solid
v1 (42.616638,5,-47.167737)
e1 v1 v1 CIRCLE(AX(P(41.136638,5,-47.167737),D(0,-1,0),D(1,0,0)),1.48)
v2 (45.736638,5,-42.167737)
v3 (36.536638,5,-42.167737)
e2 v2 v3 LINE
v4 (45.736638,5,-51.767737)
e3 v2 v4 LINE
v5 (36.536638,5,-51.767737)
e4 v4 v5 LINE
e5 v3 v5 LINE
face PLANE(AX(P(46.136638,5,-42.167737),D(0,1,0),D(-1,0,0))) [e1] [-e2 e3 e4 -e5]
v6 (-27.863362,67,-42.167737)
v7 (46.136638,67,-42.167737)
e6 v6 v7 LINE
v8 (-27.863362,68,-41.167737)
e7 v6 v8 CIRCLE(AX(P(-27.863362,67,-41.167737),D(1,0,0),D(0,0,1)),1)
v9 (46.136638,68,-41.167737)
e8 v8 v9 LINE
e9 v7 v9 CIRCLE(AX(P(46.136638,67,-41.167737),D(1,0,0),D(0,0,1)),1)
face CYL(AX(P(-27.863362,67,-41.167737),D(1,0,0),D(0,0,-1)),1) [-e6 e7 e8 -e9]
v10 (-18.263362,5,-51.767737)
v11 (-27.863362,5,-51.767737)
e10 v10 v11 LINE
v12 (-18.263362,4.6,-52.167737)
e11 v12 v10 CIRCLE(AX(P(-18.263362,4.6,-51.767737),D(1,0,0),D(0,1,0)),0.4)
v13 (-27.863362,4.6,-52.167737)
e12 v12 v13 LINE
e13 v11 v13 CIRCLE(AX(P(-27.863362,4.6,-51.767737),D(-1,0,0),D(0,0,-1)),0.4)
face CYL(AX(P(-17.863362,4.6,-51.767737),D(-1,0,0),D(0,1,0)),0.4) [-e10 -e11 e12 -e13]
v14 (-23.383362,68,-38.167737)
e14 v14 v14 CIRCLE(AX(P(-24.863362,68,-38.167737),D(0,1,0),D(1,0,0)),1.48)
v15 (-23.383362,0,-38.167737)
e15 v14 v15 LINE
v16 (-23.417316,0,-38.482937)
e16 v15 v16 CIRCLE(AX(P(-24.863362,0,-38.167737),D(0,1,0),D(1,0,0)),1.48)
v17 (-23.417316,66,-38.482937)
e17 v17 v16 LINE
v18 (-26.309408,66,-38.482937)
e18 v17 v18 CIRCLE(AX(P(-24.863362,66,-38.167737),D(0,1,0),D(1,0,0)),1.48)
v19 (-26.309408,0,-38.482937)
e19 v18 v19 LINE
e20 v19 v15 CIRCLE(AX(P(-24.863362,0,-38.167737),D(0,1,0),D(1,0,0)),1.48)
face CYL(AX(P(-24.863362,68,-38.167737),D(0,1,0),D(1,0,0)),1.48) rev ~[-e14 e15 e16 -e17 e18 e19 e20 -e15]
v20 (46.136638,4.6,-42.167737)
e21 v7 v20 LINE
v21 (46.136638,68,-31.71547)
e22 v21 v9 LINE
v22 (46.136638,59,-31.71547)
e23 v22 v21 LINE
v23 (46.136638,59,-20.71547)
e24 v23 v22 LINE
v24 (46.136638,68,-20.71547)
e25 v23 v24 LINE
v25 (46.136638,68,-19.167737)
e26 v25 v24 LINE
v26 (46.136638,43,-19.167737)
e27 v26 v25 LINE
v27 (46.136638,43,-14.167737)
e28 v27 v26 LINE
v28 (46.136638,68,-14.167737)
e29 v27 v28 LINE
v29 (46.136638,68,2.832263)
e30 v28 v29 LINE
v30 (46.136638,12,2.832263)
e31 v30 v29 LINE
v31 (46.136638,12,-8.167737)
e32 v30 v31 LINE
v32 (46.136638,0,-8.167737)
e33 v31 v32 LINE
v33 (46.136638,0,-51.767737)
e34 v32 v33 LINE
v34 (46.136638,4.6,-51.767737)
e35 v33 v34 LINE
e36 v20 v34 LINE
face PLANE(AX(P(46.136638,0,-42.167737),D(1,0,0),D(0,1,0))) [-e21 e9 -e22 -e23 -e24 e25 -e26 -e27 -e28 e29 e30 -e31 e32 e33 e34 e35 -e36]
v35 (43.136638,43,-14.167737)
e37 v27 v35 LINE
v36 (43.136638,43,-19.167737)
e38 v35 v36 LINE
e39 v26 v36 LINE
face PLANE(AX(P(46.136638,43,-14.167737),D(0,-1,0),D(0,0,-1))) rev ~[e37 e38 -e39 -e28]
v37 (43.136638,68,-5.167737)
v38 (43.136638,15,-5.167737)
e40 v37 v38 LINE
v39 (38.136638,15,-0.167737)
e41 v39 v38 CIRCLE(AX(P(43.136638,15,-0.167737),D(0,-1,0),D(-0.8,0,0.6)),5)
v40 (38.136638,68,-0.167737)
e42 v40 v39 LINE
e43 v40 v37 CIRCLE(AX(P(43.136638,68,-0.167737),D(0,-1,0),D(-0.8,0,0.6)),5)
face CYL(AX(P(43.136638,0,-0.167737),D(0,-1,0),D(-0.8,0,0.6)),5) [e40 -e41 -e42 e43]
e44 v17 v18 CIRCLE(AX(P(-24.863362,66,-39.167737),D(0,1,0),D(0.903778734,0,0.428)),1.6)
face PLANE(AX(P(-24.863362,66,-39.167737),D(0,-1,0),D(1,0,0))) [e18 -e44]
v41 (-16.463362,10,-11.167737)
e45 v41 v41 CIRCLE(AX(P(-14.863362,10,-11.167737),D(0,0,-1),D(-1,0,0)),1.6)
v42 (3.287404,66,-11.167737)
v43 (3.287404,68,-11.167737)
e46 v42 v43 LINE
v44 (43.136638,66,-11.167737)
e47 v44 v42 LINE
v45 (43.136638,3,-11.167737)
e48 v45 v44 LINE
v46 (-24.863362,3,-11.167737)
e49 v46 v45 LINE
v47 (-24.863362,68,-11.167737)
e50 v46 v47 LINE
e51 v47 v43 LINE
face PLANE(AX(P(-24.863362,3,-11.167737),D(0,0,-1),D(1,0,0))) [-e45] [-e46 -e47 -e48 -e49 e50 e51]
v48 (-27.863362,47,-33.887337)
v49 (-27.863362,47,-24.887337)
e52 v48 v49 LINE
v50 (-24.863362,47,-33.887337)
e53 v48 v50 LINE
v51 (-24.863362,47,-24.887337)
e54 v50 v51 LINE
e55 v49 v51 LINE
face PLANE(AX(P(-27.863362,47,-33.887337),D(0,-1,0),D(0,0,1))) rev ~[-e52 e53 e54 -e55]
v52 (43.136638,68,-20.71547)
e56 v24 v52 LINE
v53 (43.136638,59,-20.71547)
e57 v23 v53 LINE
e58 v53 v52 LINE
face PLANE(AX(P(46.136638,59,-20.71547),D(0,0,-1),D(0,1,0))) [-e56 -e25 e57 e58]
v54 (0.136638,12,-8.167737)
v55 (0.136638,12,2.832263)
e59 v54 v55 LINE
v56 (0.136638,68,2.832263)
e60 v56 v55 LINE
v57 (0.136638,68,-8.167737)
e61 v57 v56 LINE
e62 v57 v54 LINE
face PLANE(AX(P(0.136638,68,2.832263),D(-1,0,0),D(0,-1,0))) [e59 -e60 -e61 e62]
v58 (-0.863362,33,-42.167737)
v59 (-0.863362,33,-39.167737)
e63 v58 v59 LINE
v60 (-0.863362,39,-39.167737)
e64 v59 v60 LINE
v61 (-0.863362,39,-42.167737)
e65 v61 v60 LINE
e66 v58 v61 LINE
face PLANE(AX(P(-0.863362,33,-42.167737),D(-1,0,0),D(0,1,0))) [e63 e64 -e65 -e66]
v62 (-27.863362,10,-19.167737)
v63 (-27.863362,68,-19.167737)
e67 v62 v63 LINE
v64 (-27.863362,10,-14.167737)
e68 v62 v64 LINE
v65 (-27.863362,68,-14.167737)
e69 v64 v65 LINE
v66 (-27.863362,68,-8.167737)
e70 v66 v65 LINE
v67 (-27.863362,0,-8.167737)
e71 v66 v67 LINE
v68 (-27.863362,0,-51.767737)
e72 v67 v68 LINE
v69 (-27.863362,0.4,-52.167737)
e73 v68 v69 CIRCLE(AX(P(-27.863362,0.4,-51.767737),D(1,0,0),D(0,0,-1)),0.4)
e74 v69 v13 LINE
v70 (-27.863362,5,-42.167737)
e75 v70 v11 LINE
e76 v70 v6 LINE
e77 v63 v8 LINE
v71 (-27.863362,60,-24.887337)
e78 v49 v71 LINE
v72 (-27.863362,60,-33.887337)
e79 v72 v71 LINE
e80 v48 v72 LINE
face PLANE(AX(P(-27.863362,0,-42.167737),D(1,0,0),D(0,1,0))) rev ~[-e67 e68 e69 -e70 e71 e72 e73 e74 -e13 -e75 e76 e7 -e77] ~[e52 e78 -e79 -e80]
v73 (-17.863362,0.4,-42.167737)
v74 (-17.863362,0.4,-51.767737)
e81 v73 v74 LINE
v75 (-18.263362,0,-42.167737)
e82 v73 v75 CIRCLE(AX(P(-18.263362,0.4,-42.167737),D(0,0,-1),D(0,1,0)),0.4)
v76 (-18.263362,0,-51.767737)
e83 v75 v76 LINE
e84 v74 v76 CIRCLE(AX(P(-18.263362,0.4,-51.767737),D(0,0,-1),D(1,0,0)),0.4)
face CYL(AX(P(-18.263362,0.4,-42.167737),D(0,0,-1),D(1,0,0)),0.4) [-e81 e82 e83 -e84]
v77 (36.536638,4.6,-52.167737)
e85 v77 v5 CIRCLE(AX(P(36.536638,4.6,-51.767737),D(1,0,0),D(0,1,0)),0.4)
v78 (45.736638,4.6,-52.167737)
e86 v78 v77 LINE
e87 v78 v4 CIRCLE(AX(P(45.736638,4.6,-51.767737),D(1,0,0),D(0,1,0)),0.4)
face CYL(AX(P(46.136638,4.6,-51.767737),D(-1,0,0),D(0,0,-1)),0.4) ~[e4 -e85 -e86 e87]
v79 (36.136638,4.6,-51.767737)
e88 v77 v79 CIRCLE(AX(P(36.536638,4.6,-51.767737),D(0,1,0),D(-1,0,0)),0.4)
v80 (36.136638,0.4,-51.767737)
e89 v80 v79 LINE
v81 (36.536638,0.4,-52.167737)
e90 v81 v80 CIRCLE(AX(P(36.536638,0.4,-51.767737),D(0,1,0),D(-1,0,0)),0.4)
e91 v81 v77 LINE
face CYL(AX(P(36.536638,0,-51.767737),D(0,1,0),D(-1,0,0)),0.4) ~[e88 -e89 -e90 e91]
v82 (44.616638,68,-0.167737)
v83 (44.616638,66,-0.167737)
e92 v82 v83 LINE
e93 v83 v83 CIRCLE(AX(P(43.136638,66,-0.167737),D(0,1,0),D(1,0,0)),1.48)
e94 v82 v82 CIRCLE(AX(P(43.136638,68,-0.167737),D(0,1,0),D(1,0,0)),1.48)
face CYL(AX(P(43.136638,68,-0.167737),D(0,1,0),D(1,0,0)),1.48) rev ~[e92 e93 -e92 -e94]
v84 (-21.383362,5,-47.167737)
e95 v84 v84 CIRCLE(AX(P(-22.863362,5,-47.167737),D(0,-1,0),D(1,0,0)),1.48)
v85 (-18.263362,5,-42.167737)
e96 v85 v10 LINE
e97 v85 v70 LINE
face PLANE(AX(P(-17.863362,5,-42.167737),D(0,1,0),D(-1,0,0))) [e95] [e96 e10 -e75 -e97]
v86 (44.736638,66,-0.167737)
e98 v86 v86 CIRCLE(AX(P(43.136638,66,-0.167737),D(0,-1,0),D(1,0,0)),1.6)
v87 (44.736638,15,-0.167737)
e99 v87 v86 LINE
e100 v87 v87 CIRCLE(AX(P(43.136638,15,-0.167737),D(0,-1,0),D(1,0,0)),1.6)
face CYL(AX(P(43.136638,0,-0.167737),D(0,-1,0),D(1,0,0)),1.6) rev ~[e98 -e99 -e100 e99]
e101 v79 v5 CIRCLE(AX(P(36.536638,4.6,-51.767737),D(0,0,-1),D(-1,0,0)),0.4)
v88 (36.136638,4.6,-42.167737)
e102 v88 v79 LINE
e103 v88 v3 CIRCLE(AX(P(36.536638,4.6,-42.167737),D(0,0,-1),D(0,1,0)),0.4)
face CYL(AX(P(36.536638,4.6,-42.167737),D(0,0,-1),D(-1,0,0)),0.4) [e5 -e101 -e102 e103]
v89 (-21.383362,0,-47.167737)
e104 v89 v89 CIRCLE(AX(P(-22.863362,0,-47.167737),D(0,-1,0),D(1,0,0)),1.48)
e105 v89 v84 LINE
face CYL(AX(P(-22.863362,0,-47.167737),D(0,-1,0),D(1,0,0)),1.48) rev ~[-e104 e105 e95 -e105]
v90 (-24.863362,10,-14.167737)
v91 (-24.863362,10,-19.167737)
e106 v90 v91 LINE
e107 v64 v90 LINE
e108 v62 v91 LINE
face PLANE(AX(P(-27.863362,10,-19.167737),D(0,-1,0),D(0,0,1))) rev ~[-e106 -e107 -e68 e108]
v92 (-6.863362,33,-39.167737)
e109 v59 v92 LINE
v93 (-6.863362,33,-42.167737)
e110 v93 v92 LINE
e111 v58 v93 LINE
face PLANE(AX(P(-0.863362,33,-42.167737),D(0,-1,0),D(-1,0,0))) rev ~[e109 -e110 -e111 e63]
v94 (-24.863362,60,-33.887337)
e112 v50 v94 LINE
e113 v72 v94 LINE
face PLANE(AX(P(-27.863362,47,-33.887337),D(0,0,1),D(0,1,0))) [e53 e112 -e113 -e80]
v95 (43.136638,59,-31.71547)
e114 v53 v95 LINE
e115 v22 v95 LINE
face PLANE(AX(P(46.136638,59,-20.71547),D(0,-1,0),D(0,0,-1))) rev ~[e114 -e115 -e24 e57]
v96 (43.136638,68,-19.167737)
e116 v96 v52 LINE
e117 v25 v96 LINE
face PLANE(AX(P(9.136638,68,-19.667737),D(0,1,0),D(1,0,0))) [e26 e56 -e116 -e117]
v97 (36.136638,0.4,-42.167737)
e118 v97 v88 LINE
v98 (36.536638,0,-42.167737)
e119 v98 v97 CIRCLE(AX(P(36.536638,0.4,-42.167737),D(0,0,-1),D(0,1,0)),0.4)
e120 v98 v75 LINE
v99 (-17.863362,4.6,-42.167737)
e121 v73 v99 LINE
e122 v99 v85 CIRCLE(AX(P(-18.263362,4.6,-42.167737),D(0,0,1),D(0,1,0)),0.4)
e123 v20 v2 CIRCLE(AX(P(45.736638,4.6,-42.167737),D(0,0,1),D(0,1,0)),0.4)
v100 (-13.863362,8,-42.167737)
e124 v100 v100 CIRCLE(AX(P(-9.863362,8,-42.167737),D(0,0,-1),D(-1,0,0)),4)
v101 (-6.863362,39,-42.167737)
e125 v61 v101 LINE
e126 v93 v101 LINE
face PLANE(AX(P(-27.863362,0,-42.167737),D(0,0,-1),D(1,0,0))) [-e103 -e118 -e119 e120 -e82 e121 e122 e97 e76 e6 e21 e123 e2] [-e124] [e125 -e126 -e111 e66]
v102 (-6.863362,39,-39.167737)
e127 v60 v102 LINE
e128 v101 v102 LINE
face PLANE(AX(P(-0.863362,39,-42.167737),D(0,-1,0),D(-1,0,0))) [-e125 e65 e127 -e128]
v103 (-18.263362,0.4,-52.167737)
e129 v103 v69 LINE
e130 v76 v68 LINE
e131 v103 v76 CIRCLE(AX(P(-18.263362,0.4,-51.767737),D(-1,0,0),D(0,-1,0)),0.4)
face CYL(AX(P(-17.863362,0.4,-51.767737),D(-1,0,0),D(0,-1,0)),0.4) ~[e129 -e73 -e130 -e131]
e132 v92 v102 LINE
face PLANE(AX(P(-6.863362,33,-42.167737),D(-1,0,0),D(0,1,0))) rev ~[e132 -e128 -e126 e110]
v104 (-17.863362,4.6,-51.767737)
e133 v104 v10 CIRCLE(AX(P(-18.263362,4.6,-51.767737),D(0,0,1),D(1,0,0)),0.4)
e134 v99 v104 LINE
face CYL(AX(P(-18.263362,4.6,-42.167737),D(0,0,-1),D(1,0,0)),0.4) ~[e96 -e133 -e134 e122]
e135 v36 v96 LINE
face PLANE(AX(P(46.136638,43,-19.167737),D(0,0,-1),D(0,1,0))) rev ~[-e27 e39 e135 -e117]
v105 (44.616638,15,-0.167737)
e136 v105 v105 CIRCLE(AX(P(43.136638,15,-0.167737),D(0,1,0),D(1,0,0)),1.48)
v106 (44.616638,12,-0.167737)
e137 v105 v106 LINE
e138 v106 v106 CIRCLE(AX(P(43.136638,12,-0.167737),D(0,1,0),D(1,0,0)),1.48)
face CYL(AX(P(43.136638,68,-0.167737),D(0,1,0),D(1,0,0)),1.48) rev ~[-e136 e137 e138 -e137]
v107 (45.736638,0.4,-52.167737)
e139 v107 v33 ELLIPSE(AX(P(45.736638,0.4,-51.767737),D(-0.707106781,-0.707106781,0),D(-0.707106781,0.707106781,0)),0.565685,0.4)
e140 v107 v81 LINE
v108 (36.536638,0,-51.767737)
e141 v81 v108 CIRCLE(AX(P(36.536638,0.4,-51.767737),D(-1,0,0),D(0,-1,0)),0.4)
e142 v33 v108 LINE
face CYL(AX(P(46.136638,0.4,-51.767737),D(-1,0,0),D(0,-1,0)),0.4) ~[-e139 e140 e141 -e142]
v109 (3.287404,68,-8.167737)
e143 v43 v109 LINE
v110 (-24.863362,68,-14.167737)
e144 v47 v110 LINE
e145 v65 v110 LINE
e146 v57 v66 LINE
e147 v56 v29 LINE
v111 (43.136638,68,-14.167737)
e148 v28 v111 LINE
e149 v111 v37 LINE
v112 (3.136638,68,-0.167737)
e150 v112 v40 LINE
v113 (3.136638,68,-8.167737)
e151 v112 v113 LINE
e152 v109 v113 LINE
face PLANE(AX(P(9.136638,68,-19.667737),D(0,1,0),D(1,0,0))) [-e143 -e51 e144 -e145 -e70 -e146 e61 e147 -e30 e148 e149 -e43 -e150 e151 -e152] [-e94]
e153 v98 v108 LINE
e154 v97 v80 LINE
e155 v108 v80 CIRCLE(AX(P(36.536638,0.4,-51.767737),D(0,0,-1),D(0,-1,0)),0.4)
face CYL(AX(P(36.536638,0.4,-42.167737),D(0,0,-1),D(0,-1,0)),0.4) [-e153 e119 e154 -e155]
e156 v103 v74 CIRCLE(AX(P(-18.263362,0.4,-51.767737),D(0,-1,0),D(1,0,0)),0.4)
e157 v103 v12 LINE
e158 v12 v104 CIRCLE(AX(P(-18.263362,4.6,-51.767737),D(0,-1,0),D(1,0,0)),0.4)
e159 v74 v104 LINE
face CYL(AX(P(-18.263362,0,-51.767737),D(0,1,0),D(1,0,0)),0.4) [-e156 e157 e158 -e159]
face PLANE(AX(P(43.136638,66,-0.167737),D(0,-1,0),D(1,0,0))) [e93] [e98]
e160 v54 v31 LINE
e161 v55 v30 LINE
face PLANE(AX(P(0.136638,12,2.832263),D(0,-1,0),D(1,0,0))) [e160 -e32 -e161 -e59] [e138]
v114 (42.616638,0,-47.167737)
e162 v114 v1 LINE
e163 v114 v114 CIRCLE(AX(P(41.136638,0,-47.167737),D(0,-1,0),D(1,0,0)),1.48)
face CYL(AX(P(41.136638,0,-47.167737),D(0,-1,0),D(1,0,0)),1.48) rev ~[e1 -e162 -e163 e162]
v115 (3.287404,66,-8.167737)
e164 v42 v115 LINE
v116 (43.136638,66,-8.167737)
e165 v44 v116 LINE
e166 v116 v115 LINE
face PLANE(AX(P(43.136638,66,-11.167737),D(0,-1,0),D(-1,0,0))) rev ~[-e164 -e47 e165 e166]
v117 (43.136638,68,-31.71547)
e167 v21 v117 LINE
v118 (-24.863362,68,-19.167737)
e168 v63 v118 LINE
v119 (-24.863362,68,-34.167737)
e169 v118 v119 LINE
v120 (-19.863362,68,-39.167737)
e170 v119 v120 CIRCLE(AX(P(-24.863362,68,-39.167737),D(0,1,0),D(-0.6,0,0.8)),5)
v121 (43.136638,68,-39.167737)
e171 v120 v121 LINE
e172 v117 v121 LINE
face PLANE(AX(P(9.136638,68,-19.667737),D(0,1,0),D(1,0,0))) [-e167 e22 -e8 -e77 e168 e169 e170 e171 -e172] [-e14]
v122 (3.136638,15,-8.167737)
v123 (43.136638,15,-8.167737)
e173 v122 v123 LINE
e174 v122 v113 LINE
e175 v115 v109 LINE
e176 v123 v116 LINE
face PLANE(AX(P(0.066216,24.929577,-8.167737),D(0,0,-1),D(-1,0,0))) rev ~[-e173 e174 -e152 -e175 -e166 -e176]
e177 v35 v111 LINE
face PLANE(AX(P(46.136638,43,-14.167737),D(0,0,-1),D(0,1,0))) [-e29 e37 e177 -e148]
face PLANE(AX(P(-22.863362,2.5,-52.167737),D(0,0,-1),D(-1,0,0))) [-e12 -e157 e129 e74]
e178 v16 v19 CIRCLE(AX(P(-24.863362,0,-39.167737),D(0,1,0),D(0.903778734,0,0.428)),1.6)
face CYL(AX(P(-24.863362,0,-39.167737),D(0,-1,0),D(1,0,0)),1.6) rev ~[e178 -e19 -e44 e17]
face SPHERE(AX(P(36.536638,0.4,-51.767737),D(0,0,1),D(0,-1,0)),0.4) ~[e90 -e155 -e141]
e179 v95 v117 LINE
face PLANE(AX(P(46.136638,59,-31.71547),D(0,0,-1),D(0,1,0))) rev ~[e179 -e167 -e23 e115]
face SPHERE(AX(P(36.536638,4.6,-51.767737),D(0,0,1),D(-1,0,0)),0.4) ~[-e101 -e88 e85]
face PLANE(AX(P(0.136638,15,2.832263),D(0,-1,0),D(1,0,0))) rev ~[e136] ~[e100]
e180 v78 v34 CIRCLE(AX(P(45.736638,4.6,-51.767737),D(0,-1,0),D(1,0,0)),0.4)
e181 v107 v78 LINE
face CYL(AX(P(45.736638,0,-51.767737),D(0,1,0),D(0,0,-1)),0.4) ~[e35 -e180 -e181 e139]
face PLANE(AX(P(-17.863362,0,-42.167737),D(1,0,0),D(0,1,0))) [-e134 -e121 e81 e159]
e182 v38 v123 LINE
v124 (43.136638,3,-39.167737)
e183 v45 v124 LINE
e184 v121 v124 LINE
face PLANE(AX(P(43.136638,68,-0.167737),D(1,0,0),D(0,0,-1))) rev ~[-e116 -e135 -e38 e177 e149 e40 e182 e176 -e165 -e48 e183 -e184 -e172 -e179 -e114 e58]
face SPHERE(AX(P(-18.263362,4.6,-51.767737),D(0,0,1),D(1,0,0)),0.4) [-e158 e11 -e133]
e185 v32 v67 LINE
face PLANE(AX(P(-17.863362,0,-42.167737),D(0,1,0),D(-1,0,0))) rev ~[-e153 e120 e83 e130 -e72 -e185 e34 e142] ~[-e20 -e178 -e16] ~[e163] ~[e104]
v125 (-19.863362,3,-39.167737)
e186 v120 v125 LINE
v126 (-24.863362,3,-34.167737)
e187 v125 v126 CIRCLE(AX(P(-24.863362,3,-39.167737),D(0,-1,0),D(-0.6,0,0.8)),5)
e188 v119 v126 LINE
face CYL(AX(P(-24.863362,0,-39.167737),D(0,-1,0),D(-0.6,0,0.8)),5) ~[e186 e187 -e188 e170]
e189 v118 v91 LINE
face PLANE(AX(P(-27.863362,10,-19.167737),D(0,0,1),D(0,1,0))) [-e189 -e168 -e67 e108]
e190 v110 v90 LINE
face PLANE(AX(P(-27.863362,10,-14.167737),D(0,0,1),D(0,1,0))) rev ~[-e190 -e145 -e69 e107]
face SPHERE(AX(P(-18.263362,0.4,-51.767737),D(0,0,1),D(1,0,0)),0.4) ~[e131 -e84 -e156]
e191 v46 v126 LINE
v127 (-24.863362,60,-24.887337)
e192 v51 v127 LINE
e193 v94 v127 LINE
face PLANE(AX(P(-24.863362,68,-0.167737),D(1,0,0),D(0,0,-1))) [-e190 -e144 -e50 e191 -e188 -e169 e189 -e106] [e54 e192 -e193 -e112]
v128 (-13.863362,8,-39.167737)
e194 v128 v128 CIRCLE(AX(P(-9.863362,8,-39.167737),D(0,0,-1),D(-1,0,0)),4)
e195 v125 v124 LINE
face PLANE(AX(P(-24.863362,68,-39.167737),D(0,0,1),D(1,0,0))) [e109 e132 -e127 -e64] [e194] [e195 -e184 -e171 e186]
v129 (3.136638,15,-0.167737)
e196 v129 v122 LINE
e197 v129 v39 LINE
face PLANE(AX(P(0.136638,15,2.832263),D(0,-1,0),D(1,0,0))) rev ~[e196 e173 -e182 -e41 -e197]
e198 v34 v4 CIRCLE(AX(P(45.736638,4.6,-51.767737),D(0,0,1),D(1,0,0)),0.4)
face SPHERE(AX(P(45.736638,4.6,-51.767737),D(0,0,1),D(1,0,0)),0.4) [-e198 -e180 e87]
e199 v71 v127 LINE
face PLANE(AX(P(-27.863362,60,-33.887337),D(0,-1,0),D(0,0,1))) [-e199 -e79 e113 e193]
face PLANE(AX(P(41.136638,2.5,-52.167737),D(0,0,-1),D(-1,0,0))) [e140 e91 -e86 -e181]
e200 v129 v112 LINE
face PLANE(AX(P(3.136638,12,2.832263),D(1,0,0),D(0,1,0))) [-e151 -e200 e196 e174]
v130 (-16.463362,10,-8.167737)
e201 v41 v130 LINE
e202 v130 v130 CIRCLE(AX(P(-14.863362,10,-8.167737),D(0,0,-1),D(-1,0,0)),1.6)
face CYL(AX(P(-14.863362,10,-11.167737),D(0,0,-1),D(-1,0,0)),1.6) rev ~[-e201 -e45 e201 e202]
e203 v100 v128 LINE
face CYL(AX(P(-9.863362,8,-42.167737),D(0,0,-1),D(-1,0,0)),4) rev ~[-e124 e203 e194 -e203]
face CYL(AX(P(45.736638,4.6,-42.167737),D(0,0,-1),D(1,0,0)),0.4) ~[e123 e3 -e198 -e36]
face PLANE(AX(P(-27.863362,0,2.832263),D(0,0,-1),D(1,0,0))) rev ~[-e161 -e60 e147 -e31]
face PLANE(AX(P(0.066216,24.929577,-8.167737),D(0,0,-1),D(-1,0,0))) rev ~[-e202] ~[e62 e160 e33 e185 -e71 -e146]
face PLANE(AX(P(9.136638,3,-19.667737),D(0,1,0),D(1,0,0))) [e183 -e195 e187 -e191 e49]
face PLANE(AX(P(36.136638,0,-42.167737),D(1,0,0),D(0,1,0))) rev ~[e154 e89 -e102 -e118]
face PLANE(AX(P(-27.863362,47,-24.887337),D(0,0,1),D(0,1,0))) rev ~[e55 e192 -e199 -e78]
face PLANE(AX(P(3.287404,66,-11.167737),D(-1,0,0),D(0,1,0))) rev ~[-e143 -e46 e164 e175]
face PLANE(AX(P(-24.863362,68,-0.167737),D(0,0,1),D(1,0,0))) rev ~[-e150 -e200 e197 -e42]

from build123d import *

# Parameters (mm, degrees)
SKETCH1_W            = 74
SKETCH1_H            = 45
BOSS_EXTRUDE1_DEPTH  = 68
SKETCH3_W            = 68
SKETCH3_H            = 39
CUT_EXTRUDE2_DEPTH   = 65
SKETCH13_W           = 68
SKETCH13_H           = 3
BOSS_EXTRUDE3_DEPTH  = 65
SKETCH14_W           = 5
SKETCH14_H           = 58
CUT_EXTRUDE5_DEPTH   = 23
SKETCH15_W           = 5
SKETCH15_H           = 25
CUT_EXTRUDE6_DEPTH   = 3
SKETCH18_R           = 1.6
CUT_EXTRUDE8_DEPTH   = 3
SKETCH20_R           = 4
CUT_EXTRUDE9_DEPTH   = 18
BOSS_EXTRUDE4_DEPTH  = 68
SKETCH23_R           = 1.6
CUT_EXTRUDE10_DEPTH  = 66
BOSS_EXTRUDE5_DEPTH  = 68
SKETCH25_R           = 1.6
CUT_EXTRUDE11_DEPTH  = 66
FILLET2_R            = 1
SKETCH30_W           = 10
SKETCH30_H           = 5
BOSS_EXTRUDE6_DEPTH  = 10
SKETCH33_R           = 1.48
CUT_EXTRUDE13_DEPTH  = 5
SKETCH34_W           = 10
SKETCH34_H           = 5
BOSS_EXTRUDE8_DEPTH  = 10
SKETCH35_R           = 1.48
CUT_EXTRUDE14_DEPTH  = 5
FILLET10_R           = 0.4
CUT_EXTRUDE17_DEPTH  = 11
SKETCH45_W           = 3
SKETCH45_H           = 56
BOSS_EXTRUDE9_DEPTH  = 11
SKETCH47_W           = 46
SKETCH47_H           = 3
BOSS_EXTRUDE10_DEPTH = 11
SKETCH49_R           = 1.48
CUT_EXTRUDE18_DEPTH  = 56
SKETCH50_R           = 1.48
CUT_EXTRUDE19_DEPTH  = 68
SKETCH52_W           = 39.849234896
SKETCH52_H           = 2
CUT_EXTRUDE20_DEPTH  = 3
SKETCH54_W           = 11
SKETCH54_H           = 9
CUT_EXTRUDE21_DEPTH  = 3
SKETCH56_W           = 9
SKETCH56_H           = 13
CUT_EXTRUDE22_DEPTH  = 3
SKETCH57_W           = 6
SKETCH57_H           = 6
CUT_EXTRUDE23_DEPTH  = 3


with BuildPart() as part:
    # Sketch1 → Boss-Extrude1 (new body)
    with BuildSketch(Plane(origin=(-3.580186039, 0, -14.417736579), x_dir=(1, 0, 0), z_dir=(0, 1, 0))):
        with Locations((12.716824493, 5.25)):
            Rectangle(SKETCH1_W, SKETCH1_H)
    extrude(amount=BOSS_EXTRUDE1_DEPTH)

    # Sketch3 → Cut-Extrude2 (cut)
    with BuildSketch(Plane(origin=(-3.580186039, 68, -14.417736579), x_dir=(1, 0, 0), z_dir=(0, 1, 0))):
        with Locations((12.716824493, 5.25)):
            Rectangle(SKETCH3_W, SKETCH3_H)
    extrude(amount=-CUT_EXTRUDE2_DEPTH, mode=Mode.SUBTRACT)

    # Sketch13 → Boss-Extrude3 (add)
    with BuildSketch(Plane(origin=(-3.580186039, 3, -14.417736579), x_dir=(1, 0, 0), z_dir=(0, 1, 0))):
        with Locations((12.716824493, -4.75)):
            Rectangle(SKETCH13_W, SKETCH13_H)
    extrude(amount=BOSS_EXTRUDE3_DEPTH)

    # Sketch14 → Cut-Extrude5 (cut)
    with BuildSketch(Plane(origin=(-27.863361546, 0, -14.417736579), x_dir=(0, 0, 1), z_dir=(-1, 0, 0))):
        with Locations((-2.25, 39)):
            Rectangle(SKETCH14_W, SKETCH14_H)
    extrude(amount=-CUT_EXTRUDE5_DEPTH, mode=Mode.SUBTRACT)

    # Sketch15 → Cut-Extrude6 (cut)
    with BuildSketch(Plane(origin=(46.136638454, 0, -14.417736579), x_dir=(0, 0, -1), z_dir=(1, 0, 0))):
        with Locations((2.25, 55.5)):
            Rectangle(SKETCH15_W, SKETCH15_H)
    extrude(amount=-CUT_EXTRUDE6_DEPTH, mode=Mode.SUBTRACT)

    # Sketch18 → Cut-Extrude8 (cut)
    with BuildSketch(Plane(origin=(-3.580186039, 0, -11.167736579), x_dir=(-1, 0, 0), z_dir=(0, 0, -1))):
        with Locations((11.283175507, 10)):
            Circle(SKETCH18_R)
    extrude(amount=-CUT_EXTRUDE8_DEPTH, mode=Mode.SUBTRACT)

    # Sketch20 → Cut-Extrude9 (cut)
    with BuildSketch(Plane(origin=(0, 0, -42.167736579), x_dir=(-1, 0, 0), z_dir=(0, 0, -1))):
        with Locations((9.863361546, 8)):
            Circle(SKETCH20_R)
    extrude(amount=-CUT_EXTRUDE9_DEPTH, mode=Mode.SUBTRACT)

    # Sketch21 → Boss-Extrude4 (add)
    with BuildSketch(Plane.XZ):
        with BuildLine():
            Line((46.136638454, -4.167736579), (46.136638454, 2.832263421))
            Line((46.136638454, 2.832263421), (39.136638454, 2.832263421))
            ThreePointArc((39.136638454, 2.832263421), (39.601104548, -3.703270485), (46.136638454, -4.167736579))
        make_face()
    extrude(amount=-BOSS_EXTRUDE4_DEPTH)

    # Sketch23 → Cut-Extrude10 (cut)
    with BuildSketch(Plane.XZ):
        with Locations((43.136638454, -0.167736579)):
            Circle(SKETCH23_R)
    extrude(amount=-CUT_EXTRUDE10_DEPTH, mode=Mode.SUBTRACT)

    # Sketch24 → Boss-Extrude5 (add)
    with BuildSketch(Plane.XZ):
        with BuildLine():
            Line((-20.863361546, -42.167736579), (-27.863361546, -42.167736579))
            Line((-27.863361546, -42.167736579), (-27.863361546, -35.167736579))
            ThreePointArc((-27.863361546, -35.167736579), (-21.327827641, -35.632202673), (-20.863361546, -42.167736579))
        make_face()
    extrude(amount=-BOSS_EXTRUDE5_DEPTH)

    # Sketch25 → Cut-Extrude11 (cut)
    with BuildSketch(Plane.XZ):
        with Locations((-24.863361546, -39.167736579)):
            Circle(SKETCH25_R)
    extrude(amount=-CUT_EXTRUDE11_DEPTH, mode=Mode.SUBTRACT)

    # Fillet2
    fillet2_edges = [part.edges().sort_by_distance(p)[0] for p in [
        (9.136638454, 68, -42.167736579),
    ]]
    fillet(fillet2_edges, radius=FILLET2_R)

    # Sketch30 → Boss-Extrude6 (add)
    with BuildSketch(Plane(origin=(0, 0, -42.167736579), x_dir=(-1, 0, 0), z_dir=(0, 0, -1))):
        with Locations((-41.136638454, 2.5)):
            Rectangle(SKETCH30_W, SKETCH30_H)
    extrude(amount=BOSS_EXTRUDE6_DEPTH)

    # Sketch33 → Cut-Extrude13 (cut)
    with BuildSketch(Plane.XZ):
        with Locations((41.136638454, -47.167736579)):
            Circle(SKETCH33_R)
    extrude(amount=-CUT_EXTRUDE13_DEPTH, mode=Mode.SUBTRACT)

    # Sketch34 → Boss-Extrude8 (add)
    with BuildSketch(Plane(origin=(0, 0, -42.167736579), x_dir=(-1, 0, 0), z_dir=(0, 0, -1))):
        with Locations((22.863361546, 2.5)):
            Rectangle(SKETCH34_W, SKETCH34_H)
    extrude(amount=BOSS_EXTRUDE8_DEPTH)

    # Sketch35 → Cut-Extrude14 (cut)
    with BuildSketch(Plane.XZ):
        with Locations((-22.863361546, -47.167736579)):
            Circle(SKETCH35_R)
    extrude(amount=-CUT_EXTRUDE14_DEPTH, mode=Mode.SUBTRACT)

    # Fillet10
    fillet10_edges = [part.edges().sort_by_distance(p)[0] for p in [
        (46.136638454, 5, -47.167736579),
        (36.136638454, 0, -47.167736579),
        (36.136638454, 5, -47.167736579),
        (46.136638454, 2.5, -52.167736579),
        (41.136638454, 0, -52.167736579),
        (36.136638454, 2.5, -52.167736579),
        (41.136638454, 5, -52.167736579),
        (-17.863361546, 5, -47.167736579),
        (-17.863361546, 0, -47.167736579),
        (-17.863361546, 2.5, -52.167736579),
        (-22.863361546, 0, -52.167736579),
        (-22.863361546, 5, -52.167736579),
    ]]
    fillet(fillet10_edges, radius=FILLET10_R)

    # Sketch43 → Cut-Extrude17 (cut)
    with BuildSketch(Plane.XY.offset(2.832263421)):
        Polygon((-27.863361546, 68), (0.136638454, 68), (0.136638454, 12), (46.136638454, 12), (46.136638454, 0), (-27.863361546, 0), (-27.863361546, 12), align=None)
    extrude(amount=-CUT_EXTRUDE17_DEPTH, mode=Mode.SUBTRACT)

    # Sketch45 → Boss-Extrude9 (add)
    with BuildSketch(Plane.XY.offset(2.832263421)):
        with Locations((1.636638454, 40)):
            Rectangle(SKETCH45_W, SKETCH45_H)
    extrude(amount=-BOSS_EXTRUDE9_DEPTH)

    # Sketch47 → Boss-Extrude10 (add)
    with BuildSketch(Plane.XY.offset(2.832263421)):
        with Locations((23.136638454, 13.5)):
            Rectangle(SKETCH47_W, SKETCH47_H)
    extrude(amount=-BOSS_EXTRUDE10_DEPTH)

    # Sketch49 → Cut-Extrude18 (cut)
    with BuildSketch(Plane(origin=(0, 68, 0), x_dir=(1, 0, 0), z_dir=(0, 1, 0))):
        with Locations((43.136638454, 0.167736579)):
            Circle(SKETCH49_R)
    extrude(amount=-CUT_EXTRUDE18_DEPTH, mode=Mode.SUBTRACT)

    # Sketch50 → Cut-Extrude19 (cut)
    with BuildSketch(Plane(origin=(0, 68, 0), x_dir=(1, 0, 0), z_dir=(0, 1, 0))):
        with Locations((-24.863361546, 38.167736579)):
            Circle(SKETCH50_R)
    extrude(amount=-CUT_EXTRUDE19_DEPTH, mode=Mode.SUBTRACT)

    # Sketch52 → Cut-Extrude20 (cut)
    with BuildSketch(Plane(origin=(0, 0, -11.167736579), x_dir=(-1, 0, 0), z_dir=(0, 0, -1))):
        with Locations((-23.212021006, 67)):
            Rectangle(SKETCH52_W, SKETCH52_H)
    extrude(amount=-CUT_EXTRUDE20_DEPTH, mode=Mode.SUBTRACT)

    # Sketch54 → Cut-Extrude21 (cut)
    with BuildSketch(Plane(origin=(46.136638454, 0, 0), x_dir=(0, 0, -1), z_dir=(1, 0, 0))):
        with Locations((26.2154696, 63.5)):
            Rectangle(SKETCH54_W, SKETCH54_H)
    extrude(amount=-CUT_EXTRUDE21_DEPTH, mode=Mode.SUBTRACT)

    # Sketch56 → Cut-Extrude22 (cut)
    with BuildSketch(Plane.ZY.offset(27.863361546)):
        with Locations((-29.387336529, 53.5)):
            Rectangle(SKETCH56_W, SKETCH56_H)
    extrude(amount=-CUT_EXTRUDE22_DEPTH, mode=Mode.SUBTRACT)

    # Sketch57 → Cut-Extrude23 (cut)
    with BuildSketch(Plane(origin=(0, 0, -42.167736579), x_dir=(-1, 0, 0), z_dir=(0, 0, -1))):
        with Locations((3.863361546, 36)):
            Rectangle(SKETCH57_W, SKETCH57_H)
    extrude(amount=-CUT_EXTRUDE23_DEPTH, mode=Mode.SUBTRACT)


solid = part.part
